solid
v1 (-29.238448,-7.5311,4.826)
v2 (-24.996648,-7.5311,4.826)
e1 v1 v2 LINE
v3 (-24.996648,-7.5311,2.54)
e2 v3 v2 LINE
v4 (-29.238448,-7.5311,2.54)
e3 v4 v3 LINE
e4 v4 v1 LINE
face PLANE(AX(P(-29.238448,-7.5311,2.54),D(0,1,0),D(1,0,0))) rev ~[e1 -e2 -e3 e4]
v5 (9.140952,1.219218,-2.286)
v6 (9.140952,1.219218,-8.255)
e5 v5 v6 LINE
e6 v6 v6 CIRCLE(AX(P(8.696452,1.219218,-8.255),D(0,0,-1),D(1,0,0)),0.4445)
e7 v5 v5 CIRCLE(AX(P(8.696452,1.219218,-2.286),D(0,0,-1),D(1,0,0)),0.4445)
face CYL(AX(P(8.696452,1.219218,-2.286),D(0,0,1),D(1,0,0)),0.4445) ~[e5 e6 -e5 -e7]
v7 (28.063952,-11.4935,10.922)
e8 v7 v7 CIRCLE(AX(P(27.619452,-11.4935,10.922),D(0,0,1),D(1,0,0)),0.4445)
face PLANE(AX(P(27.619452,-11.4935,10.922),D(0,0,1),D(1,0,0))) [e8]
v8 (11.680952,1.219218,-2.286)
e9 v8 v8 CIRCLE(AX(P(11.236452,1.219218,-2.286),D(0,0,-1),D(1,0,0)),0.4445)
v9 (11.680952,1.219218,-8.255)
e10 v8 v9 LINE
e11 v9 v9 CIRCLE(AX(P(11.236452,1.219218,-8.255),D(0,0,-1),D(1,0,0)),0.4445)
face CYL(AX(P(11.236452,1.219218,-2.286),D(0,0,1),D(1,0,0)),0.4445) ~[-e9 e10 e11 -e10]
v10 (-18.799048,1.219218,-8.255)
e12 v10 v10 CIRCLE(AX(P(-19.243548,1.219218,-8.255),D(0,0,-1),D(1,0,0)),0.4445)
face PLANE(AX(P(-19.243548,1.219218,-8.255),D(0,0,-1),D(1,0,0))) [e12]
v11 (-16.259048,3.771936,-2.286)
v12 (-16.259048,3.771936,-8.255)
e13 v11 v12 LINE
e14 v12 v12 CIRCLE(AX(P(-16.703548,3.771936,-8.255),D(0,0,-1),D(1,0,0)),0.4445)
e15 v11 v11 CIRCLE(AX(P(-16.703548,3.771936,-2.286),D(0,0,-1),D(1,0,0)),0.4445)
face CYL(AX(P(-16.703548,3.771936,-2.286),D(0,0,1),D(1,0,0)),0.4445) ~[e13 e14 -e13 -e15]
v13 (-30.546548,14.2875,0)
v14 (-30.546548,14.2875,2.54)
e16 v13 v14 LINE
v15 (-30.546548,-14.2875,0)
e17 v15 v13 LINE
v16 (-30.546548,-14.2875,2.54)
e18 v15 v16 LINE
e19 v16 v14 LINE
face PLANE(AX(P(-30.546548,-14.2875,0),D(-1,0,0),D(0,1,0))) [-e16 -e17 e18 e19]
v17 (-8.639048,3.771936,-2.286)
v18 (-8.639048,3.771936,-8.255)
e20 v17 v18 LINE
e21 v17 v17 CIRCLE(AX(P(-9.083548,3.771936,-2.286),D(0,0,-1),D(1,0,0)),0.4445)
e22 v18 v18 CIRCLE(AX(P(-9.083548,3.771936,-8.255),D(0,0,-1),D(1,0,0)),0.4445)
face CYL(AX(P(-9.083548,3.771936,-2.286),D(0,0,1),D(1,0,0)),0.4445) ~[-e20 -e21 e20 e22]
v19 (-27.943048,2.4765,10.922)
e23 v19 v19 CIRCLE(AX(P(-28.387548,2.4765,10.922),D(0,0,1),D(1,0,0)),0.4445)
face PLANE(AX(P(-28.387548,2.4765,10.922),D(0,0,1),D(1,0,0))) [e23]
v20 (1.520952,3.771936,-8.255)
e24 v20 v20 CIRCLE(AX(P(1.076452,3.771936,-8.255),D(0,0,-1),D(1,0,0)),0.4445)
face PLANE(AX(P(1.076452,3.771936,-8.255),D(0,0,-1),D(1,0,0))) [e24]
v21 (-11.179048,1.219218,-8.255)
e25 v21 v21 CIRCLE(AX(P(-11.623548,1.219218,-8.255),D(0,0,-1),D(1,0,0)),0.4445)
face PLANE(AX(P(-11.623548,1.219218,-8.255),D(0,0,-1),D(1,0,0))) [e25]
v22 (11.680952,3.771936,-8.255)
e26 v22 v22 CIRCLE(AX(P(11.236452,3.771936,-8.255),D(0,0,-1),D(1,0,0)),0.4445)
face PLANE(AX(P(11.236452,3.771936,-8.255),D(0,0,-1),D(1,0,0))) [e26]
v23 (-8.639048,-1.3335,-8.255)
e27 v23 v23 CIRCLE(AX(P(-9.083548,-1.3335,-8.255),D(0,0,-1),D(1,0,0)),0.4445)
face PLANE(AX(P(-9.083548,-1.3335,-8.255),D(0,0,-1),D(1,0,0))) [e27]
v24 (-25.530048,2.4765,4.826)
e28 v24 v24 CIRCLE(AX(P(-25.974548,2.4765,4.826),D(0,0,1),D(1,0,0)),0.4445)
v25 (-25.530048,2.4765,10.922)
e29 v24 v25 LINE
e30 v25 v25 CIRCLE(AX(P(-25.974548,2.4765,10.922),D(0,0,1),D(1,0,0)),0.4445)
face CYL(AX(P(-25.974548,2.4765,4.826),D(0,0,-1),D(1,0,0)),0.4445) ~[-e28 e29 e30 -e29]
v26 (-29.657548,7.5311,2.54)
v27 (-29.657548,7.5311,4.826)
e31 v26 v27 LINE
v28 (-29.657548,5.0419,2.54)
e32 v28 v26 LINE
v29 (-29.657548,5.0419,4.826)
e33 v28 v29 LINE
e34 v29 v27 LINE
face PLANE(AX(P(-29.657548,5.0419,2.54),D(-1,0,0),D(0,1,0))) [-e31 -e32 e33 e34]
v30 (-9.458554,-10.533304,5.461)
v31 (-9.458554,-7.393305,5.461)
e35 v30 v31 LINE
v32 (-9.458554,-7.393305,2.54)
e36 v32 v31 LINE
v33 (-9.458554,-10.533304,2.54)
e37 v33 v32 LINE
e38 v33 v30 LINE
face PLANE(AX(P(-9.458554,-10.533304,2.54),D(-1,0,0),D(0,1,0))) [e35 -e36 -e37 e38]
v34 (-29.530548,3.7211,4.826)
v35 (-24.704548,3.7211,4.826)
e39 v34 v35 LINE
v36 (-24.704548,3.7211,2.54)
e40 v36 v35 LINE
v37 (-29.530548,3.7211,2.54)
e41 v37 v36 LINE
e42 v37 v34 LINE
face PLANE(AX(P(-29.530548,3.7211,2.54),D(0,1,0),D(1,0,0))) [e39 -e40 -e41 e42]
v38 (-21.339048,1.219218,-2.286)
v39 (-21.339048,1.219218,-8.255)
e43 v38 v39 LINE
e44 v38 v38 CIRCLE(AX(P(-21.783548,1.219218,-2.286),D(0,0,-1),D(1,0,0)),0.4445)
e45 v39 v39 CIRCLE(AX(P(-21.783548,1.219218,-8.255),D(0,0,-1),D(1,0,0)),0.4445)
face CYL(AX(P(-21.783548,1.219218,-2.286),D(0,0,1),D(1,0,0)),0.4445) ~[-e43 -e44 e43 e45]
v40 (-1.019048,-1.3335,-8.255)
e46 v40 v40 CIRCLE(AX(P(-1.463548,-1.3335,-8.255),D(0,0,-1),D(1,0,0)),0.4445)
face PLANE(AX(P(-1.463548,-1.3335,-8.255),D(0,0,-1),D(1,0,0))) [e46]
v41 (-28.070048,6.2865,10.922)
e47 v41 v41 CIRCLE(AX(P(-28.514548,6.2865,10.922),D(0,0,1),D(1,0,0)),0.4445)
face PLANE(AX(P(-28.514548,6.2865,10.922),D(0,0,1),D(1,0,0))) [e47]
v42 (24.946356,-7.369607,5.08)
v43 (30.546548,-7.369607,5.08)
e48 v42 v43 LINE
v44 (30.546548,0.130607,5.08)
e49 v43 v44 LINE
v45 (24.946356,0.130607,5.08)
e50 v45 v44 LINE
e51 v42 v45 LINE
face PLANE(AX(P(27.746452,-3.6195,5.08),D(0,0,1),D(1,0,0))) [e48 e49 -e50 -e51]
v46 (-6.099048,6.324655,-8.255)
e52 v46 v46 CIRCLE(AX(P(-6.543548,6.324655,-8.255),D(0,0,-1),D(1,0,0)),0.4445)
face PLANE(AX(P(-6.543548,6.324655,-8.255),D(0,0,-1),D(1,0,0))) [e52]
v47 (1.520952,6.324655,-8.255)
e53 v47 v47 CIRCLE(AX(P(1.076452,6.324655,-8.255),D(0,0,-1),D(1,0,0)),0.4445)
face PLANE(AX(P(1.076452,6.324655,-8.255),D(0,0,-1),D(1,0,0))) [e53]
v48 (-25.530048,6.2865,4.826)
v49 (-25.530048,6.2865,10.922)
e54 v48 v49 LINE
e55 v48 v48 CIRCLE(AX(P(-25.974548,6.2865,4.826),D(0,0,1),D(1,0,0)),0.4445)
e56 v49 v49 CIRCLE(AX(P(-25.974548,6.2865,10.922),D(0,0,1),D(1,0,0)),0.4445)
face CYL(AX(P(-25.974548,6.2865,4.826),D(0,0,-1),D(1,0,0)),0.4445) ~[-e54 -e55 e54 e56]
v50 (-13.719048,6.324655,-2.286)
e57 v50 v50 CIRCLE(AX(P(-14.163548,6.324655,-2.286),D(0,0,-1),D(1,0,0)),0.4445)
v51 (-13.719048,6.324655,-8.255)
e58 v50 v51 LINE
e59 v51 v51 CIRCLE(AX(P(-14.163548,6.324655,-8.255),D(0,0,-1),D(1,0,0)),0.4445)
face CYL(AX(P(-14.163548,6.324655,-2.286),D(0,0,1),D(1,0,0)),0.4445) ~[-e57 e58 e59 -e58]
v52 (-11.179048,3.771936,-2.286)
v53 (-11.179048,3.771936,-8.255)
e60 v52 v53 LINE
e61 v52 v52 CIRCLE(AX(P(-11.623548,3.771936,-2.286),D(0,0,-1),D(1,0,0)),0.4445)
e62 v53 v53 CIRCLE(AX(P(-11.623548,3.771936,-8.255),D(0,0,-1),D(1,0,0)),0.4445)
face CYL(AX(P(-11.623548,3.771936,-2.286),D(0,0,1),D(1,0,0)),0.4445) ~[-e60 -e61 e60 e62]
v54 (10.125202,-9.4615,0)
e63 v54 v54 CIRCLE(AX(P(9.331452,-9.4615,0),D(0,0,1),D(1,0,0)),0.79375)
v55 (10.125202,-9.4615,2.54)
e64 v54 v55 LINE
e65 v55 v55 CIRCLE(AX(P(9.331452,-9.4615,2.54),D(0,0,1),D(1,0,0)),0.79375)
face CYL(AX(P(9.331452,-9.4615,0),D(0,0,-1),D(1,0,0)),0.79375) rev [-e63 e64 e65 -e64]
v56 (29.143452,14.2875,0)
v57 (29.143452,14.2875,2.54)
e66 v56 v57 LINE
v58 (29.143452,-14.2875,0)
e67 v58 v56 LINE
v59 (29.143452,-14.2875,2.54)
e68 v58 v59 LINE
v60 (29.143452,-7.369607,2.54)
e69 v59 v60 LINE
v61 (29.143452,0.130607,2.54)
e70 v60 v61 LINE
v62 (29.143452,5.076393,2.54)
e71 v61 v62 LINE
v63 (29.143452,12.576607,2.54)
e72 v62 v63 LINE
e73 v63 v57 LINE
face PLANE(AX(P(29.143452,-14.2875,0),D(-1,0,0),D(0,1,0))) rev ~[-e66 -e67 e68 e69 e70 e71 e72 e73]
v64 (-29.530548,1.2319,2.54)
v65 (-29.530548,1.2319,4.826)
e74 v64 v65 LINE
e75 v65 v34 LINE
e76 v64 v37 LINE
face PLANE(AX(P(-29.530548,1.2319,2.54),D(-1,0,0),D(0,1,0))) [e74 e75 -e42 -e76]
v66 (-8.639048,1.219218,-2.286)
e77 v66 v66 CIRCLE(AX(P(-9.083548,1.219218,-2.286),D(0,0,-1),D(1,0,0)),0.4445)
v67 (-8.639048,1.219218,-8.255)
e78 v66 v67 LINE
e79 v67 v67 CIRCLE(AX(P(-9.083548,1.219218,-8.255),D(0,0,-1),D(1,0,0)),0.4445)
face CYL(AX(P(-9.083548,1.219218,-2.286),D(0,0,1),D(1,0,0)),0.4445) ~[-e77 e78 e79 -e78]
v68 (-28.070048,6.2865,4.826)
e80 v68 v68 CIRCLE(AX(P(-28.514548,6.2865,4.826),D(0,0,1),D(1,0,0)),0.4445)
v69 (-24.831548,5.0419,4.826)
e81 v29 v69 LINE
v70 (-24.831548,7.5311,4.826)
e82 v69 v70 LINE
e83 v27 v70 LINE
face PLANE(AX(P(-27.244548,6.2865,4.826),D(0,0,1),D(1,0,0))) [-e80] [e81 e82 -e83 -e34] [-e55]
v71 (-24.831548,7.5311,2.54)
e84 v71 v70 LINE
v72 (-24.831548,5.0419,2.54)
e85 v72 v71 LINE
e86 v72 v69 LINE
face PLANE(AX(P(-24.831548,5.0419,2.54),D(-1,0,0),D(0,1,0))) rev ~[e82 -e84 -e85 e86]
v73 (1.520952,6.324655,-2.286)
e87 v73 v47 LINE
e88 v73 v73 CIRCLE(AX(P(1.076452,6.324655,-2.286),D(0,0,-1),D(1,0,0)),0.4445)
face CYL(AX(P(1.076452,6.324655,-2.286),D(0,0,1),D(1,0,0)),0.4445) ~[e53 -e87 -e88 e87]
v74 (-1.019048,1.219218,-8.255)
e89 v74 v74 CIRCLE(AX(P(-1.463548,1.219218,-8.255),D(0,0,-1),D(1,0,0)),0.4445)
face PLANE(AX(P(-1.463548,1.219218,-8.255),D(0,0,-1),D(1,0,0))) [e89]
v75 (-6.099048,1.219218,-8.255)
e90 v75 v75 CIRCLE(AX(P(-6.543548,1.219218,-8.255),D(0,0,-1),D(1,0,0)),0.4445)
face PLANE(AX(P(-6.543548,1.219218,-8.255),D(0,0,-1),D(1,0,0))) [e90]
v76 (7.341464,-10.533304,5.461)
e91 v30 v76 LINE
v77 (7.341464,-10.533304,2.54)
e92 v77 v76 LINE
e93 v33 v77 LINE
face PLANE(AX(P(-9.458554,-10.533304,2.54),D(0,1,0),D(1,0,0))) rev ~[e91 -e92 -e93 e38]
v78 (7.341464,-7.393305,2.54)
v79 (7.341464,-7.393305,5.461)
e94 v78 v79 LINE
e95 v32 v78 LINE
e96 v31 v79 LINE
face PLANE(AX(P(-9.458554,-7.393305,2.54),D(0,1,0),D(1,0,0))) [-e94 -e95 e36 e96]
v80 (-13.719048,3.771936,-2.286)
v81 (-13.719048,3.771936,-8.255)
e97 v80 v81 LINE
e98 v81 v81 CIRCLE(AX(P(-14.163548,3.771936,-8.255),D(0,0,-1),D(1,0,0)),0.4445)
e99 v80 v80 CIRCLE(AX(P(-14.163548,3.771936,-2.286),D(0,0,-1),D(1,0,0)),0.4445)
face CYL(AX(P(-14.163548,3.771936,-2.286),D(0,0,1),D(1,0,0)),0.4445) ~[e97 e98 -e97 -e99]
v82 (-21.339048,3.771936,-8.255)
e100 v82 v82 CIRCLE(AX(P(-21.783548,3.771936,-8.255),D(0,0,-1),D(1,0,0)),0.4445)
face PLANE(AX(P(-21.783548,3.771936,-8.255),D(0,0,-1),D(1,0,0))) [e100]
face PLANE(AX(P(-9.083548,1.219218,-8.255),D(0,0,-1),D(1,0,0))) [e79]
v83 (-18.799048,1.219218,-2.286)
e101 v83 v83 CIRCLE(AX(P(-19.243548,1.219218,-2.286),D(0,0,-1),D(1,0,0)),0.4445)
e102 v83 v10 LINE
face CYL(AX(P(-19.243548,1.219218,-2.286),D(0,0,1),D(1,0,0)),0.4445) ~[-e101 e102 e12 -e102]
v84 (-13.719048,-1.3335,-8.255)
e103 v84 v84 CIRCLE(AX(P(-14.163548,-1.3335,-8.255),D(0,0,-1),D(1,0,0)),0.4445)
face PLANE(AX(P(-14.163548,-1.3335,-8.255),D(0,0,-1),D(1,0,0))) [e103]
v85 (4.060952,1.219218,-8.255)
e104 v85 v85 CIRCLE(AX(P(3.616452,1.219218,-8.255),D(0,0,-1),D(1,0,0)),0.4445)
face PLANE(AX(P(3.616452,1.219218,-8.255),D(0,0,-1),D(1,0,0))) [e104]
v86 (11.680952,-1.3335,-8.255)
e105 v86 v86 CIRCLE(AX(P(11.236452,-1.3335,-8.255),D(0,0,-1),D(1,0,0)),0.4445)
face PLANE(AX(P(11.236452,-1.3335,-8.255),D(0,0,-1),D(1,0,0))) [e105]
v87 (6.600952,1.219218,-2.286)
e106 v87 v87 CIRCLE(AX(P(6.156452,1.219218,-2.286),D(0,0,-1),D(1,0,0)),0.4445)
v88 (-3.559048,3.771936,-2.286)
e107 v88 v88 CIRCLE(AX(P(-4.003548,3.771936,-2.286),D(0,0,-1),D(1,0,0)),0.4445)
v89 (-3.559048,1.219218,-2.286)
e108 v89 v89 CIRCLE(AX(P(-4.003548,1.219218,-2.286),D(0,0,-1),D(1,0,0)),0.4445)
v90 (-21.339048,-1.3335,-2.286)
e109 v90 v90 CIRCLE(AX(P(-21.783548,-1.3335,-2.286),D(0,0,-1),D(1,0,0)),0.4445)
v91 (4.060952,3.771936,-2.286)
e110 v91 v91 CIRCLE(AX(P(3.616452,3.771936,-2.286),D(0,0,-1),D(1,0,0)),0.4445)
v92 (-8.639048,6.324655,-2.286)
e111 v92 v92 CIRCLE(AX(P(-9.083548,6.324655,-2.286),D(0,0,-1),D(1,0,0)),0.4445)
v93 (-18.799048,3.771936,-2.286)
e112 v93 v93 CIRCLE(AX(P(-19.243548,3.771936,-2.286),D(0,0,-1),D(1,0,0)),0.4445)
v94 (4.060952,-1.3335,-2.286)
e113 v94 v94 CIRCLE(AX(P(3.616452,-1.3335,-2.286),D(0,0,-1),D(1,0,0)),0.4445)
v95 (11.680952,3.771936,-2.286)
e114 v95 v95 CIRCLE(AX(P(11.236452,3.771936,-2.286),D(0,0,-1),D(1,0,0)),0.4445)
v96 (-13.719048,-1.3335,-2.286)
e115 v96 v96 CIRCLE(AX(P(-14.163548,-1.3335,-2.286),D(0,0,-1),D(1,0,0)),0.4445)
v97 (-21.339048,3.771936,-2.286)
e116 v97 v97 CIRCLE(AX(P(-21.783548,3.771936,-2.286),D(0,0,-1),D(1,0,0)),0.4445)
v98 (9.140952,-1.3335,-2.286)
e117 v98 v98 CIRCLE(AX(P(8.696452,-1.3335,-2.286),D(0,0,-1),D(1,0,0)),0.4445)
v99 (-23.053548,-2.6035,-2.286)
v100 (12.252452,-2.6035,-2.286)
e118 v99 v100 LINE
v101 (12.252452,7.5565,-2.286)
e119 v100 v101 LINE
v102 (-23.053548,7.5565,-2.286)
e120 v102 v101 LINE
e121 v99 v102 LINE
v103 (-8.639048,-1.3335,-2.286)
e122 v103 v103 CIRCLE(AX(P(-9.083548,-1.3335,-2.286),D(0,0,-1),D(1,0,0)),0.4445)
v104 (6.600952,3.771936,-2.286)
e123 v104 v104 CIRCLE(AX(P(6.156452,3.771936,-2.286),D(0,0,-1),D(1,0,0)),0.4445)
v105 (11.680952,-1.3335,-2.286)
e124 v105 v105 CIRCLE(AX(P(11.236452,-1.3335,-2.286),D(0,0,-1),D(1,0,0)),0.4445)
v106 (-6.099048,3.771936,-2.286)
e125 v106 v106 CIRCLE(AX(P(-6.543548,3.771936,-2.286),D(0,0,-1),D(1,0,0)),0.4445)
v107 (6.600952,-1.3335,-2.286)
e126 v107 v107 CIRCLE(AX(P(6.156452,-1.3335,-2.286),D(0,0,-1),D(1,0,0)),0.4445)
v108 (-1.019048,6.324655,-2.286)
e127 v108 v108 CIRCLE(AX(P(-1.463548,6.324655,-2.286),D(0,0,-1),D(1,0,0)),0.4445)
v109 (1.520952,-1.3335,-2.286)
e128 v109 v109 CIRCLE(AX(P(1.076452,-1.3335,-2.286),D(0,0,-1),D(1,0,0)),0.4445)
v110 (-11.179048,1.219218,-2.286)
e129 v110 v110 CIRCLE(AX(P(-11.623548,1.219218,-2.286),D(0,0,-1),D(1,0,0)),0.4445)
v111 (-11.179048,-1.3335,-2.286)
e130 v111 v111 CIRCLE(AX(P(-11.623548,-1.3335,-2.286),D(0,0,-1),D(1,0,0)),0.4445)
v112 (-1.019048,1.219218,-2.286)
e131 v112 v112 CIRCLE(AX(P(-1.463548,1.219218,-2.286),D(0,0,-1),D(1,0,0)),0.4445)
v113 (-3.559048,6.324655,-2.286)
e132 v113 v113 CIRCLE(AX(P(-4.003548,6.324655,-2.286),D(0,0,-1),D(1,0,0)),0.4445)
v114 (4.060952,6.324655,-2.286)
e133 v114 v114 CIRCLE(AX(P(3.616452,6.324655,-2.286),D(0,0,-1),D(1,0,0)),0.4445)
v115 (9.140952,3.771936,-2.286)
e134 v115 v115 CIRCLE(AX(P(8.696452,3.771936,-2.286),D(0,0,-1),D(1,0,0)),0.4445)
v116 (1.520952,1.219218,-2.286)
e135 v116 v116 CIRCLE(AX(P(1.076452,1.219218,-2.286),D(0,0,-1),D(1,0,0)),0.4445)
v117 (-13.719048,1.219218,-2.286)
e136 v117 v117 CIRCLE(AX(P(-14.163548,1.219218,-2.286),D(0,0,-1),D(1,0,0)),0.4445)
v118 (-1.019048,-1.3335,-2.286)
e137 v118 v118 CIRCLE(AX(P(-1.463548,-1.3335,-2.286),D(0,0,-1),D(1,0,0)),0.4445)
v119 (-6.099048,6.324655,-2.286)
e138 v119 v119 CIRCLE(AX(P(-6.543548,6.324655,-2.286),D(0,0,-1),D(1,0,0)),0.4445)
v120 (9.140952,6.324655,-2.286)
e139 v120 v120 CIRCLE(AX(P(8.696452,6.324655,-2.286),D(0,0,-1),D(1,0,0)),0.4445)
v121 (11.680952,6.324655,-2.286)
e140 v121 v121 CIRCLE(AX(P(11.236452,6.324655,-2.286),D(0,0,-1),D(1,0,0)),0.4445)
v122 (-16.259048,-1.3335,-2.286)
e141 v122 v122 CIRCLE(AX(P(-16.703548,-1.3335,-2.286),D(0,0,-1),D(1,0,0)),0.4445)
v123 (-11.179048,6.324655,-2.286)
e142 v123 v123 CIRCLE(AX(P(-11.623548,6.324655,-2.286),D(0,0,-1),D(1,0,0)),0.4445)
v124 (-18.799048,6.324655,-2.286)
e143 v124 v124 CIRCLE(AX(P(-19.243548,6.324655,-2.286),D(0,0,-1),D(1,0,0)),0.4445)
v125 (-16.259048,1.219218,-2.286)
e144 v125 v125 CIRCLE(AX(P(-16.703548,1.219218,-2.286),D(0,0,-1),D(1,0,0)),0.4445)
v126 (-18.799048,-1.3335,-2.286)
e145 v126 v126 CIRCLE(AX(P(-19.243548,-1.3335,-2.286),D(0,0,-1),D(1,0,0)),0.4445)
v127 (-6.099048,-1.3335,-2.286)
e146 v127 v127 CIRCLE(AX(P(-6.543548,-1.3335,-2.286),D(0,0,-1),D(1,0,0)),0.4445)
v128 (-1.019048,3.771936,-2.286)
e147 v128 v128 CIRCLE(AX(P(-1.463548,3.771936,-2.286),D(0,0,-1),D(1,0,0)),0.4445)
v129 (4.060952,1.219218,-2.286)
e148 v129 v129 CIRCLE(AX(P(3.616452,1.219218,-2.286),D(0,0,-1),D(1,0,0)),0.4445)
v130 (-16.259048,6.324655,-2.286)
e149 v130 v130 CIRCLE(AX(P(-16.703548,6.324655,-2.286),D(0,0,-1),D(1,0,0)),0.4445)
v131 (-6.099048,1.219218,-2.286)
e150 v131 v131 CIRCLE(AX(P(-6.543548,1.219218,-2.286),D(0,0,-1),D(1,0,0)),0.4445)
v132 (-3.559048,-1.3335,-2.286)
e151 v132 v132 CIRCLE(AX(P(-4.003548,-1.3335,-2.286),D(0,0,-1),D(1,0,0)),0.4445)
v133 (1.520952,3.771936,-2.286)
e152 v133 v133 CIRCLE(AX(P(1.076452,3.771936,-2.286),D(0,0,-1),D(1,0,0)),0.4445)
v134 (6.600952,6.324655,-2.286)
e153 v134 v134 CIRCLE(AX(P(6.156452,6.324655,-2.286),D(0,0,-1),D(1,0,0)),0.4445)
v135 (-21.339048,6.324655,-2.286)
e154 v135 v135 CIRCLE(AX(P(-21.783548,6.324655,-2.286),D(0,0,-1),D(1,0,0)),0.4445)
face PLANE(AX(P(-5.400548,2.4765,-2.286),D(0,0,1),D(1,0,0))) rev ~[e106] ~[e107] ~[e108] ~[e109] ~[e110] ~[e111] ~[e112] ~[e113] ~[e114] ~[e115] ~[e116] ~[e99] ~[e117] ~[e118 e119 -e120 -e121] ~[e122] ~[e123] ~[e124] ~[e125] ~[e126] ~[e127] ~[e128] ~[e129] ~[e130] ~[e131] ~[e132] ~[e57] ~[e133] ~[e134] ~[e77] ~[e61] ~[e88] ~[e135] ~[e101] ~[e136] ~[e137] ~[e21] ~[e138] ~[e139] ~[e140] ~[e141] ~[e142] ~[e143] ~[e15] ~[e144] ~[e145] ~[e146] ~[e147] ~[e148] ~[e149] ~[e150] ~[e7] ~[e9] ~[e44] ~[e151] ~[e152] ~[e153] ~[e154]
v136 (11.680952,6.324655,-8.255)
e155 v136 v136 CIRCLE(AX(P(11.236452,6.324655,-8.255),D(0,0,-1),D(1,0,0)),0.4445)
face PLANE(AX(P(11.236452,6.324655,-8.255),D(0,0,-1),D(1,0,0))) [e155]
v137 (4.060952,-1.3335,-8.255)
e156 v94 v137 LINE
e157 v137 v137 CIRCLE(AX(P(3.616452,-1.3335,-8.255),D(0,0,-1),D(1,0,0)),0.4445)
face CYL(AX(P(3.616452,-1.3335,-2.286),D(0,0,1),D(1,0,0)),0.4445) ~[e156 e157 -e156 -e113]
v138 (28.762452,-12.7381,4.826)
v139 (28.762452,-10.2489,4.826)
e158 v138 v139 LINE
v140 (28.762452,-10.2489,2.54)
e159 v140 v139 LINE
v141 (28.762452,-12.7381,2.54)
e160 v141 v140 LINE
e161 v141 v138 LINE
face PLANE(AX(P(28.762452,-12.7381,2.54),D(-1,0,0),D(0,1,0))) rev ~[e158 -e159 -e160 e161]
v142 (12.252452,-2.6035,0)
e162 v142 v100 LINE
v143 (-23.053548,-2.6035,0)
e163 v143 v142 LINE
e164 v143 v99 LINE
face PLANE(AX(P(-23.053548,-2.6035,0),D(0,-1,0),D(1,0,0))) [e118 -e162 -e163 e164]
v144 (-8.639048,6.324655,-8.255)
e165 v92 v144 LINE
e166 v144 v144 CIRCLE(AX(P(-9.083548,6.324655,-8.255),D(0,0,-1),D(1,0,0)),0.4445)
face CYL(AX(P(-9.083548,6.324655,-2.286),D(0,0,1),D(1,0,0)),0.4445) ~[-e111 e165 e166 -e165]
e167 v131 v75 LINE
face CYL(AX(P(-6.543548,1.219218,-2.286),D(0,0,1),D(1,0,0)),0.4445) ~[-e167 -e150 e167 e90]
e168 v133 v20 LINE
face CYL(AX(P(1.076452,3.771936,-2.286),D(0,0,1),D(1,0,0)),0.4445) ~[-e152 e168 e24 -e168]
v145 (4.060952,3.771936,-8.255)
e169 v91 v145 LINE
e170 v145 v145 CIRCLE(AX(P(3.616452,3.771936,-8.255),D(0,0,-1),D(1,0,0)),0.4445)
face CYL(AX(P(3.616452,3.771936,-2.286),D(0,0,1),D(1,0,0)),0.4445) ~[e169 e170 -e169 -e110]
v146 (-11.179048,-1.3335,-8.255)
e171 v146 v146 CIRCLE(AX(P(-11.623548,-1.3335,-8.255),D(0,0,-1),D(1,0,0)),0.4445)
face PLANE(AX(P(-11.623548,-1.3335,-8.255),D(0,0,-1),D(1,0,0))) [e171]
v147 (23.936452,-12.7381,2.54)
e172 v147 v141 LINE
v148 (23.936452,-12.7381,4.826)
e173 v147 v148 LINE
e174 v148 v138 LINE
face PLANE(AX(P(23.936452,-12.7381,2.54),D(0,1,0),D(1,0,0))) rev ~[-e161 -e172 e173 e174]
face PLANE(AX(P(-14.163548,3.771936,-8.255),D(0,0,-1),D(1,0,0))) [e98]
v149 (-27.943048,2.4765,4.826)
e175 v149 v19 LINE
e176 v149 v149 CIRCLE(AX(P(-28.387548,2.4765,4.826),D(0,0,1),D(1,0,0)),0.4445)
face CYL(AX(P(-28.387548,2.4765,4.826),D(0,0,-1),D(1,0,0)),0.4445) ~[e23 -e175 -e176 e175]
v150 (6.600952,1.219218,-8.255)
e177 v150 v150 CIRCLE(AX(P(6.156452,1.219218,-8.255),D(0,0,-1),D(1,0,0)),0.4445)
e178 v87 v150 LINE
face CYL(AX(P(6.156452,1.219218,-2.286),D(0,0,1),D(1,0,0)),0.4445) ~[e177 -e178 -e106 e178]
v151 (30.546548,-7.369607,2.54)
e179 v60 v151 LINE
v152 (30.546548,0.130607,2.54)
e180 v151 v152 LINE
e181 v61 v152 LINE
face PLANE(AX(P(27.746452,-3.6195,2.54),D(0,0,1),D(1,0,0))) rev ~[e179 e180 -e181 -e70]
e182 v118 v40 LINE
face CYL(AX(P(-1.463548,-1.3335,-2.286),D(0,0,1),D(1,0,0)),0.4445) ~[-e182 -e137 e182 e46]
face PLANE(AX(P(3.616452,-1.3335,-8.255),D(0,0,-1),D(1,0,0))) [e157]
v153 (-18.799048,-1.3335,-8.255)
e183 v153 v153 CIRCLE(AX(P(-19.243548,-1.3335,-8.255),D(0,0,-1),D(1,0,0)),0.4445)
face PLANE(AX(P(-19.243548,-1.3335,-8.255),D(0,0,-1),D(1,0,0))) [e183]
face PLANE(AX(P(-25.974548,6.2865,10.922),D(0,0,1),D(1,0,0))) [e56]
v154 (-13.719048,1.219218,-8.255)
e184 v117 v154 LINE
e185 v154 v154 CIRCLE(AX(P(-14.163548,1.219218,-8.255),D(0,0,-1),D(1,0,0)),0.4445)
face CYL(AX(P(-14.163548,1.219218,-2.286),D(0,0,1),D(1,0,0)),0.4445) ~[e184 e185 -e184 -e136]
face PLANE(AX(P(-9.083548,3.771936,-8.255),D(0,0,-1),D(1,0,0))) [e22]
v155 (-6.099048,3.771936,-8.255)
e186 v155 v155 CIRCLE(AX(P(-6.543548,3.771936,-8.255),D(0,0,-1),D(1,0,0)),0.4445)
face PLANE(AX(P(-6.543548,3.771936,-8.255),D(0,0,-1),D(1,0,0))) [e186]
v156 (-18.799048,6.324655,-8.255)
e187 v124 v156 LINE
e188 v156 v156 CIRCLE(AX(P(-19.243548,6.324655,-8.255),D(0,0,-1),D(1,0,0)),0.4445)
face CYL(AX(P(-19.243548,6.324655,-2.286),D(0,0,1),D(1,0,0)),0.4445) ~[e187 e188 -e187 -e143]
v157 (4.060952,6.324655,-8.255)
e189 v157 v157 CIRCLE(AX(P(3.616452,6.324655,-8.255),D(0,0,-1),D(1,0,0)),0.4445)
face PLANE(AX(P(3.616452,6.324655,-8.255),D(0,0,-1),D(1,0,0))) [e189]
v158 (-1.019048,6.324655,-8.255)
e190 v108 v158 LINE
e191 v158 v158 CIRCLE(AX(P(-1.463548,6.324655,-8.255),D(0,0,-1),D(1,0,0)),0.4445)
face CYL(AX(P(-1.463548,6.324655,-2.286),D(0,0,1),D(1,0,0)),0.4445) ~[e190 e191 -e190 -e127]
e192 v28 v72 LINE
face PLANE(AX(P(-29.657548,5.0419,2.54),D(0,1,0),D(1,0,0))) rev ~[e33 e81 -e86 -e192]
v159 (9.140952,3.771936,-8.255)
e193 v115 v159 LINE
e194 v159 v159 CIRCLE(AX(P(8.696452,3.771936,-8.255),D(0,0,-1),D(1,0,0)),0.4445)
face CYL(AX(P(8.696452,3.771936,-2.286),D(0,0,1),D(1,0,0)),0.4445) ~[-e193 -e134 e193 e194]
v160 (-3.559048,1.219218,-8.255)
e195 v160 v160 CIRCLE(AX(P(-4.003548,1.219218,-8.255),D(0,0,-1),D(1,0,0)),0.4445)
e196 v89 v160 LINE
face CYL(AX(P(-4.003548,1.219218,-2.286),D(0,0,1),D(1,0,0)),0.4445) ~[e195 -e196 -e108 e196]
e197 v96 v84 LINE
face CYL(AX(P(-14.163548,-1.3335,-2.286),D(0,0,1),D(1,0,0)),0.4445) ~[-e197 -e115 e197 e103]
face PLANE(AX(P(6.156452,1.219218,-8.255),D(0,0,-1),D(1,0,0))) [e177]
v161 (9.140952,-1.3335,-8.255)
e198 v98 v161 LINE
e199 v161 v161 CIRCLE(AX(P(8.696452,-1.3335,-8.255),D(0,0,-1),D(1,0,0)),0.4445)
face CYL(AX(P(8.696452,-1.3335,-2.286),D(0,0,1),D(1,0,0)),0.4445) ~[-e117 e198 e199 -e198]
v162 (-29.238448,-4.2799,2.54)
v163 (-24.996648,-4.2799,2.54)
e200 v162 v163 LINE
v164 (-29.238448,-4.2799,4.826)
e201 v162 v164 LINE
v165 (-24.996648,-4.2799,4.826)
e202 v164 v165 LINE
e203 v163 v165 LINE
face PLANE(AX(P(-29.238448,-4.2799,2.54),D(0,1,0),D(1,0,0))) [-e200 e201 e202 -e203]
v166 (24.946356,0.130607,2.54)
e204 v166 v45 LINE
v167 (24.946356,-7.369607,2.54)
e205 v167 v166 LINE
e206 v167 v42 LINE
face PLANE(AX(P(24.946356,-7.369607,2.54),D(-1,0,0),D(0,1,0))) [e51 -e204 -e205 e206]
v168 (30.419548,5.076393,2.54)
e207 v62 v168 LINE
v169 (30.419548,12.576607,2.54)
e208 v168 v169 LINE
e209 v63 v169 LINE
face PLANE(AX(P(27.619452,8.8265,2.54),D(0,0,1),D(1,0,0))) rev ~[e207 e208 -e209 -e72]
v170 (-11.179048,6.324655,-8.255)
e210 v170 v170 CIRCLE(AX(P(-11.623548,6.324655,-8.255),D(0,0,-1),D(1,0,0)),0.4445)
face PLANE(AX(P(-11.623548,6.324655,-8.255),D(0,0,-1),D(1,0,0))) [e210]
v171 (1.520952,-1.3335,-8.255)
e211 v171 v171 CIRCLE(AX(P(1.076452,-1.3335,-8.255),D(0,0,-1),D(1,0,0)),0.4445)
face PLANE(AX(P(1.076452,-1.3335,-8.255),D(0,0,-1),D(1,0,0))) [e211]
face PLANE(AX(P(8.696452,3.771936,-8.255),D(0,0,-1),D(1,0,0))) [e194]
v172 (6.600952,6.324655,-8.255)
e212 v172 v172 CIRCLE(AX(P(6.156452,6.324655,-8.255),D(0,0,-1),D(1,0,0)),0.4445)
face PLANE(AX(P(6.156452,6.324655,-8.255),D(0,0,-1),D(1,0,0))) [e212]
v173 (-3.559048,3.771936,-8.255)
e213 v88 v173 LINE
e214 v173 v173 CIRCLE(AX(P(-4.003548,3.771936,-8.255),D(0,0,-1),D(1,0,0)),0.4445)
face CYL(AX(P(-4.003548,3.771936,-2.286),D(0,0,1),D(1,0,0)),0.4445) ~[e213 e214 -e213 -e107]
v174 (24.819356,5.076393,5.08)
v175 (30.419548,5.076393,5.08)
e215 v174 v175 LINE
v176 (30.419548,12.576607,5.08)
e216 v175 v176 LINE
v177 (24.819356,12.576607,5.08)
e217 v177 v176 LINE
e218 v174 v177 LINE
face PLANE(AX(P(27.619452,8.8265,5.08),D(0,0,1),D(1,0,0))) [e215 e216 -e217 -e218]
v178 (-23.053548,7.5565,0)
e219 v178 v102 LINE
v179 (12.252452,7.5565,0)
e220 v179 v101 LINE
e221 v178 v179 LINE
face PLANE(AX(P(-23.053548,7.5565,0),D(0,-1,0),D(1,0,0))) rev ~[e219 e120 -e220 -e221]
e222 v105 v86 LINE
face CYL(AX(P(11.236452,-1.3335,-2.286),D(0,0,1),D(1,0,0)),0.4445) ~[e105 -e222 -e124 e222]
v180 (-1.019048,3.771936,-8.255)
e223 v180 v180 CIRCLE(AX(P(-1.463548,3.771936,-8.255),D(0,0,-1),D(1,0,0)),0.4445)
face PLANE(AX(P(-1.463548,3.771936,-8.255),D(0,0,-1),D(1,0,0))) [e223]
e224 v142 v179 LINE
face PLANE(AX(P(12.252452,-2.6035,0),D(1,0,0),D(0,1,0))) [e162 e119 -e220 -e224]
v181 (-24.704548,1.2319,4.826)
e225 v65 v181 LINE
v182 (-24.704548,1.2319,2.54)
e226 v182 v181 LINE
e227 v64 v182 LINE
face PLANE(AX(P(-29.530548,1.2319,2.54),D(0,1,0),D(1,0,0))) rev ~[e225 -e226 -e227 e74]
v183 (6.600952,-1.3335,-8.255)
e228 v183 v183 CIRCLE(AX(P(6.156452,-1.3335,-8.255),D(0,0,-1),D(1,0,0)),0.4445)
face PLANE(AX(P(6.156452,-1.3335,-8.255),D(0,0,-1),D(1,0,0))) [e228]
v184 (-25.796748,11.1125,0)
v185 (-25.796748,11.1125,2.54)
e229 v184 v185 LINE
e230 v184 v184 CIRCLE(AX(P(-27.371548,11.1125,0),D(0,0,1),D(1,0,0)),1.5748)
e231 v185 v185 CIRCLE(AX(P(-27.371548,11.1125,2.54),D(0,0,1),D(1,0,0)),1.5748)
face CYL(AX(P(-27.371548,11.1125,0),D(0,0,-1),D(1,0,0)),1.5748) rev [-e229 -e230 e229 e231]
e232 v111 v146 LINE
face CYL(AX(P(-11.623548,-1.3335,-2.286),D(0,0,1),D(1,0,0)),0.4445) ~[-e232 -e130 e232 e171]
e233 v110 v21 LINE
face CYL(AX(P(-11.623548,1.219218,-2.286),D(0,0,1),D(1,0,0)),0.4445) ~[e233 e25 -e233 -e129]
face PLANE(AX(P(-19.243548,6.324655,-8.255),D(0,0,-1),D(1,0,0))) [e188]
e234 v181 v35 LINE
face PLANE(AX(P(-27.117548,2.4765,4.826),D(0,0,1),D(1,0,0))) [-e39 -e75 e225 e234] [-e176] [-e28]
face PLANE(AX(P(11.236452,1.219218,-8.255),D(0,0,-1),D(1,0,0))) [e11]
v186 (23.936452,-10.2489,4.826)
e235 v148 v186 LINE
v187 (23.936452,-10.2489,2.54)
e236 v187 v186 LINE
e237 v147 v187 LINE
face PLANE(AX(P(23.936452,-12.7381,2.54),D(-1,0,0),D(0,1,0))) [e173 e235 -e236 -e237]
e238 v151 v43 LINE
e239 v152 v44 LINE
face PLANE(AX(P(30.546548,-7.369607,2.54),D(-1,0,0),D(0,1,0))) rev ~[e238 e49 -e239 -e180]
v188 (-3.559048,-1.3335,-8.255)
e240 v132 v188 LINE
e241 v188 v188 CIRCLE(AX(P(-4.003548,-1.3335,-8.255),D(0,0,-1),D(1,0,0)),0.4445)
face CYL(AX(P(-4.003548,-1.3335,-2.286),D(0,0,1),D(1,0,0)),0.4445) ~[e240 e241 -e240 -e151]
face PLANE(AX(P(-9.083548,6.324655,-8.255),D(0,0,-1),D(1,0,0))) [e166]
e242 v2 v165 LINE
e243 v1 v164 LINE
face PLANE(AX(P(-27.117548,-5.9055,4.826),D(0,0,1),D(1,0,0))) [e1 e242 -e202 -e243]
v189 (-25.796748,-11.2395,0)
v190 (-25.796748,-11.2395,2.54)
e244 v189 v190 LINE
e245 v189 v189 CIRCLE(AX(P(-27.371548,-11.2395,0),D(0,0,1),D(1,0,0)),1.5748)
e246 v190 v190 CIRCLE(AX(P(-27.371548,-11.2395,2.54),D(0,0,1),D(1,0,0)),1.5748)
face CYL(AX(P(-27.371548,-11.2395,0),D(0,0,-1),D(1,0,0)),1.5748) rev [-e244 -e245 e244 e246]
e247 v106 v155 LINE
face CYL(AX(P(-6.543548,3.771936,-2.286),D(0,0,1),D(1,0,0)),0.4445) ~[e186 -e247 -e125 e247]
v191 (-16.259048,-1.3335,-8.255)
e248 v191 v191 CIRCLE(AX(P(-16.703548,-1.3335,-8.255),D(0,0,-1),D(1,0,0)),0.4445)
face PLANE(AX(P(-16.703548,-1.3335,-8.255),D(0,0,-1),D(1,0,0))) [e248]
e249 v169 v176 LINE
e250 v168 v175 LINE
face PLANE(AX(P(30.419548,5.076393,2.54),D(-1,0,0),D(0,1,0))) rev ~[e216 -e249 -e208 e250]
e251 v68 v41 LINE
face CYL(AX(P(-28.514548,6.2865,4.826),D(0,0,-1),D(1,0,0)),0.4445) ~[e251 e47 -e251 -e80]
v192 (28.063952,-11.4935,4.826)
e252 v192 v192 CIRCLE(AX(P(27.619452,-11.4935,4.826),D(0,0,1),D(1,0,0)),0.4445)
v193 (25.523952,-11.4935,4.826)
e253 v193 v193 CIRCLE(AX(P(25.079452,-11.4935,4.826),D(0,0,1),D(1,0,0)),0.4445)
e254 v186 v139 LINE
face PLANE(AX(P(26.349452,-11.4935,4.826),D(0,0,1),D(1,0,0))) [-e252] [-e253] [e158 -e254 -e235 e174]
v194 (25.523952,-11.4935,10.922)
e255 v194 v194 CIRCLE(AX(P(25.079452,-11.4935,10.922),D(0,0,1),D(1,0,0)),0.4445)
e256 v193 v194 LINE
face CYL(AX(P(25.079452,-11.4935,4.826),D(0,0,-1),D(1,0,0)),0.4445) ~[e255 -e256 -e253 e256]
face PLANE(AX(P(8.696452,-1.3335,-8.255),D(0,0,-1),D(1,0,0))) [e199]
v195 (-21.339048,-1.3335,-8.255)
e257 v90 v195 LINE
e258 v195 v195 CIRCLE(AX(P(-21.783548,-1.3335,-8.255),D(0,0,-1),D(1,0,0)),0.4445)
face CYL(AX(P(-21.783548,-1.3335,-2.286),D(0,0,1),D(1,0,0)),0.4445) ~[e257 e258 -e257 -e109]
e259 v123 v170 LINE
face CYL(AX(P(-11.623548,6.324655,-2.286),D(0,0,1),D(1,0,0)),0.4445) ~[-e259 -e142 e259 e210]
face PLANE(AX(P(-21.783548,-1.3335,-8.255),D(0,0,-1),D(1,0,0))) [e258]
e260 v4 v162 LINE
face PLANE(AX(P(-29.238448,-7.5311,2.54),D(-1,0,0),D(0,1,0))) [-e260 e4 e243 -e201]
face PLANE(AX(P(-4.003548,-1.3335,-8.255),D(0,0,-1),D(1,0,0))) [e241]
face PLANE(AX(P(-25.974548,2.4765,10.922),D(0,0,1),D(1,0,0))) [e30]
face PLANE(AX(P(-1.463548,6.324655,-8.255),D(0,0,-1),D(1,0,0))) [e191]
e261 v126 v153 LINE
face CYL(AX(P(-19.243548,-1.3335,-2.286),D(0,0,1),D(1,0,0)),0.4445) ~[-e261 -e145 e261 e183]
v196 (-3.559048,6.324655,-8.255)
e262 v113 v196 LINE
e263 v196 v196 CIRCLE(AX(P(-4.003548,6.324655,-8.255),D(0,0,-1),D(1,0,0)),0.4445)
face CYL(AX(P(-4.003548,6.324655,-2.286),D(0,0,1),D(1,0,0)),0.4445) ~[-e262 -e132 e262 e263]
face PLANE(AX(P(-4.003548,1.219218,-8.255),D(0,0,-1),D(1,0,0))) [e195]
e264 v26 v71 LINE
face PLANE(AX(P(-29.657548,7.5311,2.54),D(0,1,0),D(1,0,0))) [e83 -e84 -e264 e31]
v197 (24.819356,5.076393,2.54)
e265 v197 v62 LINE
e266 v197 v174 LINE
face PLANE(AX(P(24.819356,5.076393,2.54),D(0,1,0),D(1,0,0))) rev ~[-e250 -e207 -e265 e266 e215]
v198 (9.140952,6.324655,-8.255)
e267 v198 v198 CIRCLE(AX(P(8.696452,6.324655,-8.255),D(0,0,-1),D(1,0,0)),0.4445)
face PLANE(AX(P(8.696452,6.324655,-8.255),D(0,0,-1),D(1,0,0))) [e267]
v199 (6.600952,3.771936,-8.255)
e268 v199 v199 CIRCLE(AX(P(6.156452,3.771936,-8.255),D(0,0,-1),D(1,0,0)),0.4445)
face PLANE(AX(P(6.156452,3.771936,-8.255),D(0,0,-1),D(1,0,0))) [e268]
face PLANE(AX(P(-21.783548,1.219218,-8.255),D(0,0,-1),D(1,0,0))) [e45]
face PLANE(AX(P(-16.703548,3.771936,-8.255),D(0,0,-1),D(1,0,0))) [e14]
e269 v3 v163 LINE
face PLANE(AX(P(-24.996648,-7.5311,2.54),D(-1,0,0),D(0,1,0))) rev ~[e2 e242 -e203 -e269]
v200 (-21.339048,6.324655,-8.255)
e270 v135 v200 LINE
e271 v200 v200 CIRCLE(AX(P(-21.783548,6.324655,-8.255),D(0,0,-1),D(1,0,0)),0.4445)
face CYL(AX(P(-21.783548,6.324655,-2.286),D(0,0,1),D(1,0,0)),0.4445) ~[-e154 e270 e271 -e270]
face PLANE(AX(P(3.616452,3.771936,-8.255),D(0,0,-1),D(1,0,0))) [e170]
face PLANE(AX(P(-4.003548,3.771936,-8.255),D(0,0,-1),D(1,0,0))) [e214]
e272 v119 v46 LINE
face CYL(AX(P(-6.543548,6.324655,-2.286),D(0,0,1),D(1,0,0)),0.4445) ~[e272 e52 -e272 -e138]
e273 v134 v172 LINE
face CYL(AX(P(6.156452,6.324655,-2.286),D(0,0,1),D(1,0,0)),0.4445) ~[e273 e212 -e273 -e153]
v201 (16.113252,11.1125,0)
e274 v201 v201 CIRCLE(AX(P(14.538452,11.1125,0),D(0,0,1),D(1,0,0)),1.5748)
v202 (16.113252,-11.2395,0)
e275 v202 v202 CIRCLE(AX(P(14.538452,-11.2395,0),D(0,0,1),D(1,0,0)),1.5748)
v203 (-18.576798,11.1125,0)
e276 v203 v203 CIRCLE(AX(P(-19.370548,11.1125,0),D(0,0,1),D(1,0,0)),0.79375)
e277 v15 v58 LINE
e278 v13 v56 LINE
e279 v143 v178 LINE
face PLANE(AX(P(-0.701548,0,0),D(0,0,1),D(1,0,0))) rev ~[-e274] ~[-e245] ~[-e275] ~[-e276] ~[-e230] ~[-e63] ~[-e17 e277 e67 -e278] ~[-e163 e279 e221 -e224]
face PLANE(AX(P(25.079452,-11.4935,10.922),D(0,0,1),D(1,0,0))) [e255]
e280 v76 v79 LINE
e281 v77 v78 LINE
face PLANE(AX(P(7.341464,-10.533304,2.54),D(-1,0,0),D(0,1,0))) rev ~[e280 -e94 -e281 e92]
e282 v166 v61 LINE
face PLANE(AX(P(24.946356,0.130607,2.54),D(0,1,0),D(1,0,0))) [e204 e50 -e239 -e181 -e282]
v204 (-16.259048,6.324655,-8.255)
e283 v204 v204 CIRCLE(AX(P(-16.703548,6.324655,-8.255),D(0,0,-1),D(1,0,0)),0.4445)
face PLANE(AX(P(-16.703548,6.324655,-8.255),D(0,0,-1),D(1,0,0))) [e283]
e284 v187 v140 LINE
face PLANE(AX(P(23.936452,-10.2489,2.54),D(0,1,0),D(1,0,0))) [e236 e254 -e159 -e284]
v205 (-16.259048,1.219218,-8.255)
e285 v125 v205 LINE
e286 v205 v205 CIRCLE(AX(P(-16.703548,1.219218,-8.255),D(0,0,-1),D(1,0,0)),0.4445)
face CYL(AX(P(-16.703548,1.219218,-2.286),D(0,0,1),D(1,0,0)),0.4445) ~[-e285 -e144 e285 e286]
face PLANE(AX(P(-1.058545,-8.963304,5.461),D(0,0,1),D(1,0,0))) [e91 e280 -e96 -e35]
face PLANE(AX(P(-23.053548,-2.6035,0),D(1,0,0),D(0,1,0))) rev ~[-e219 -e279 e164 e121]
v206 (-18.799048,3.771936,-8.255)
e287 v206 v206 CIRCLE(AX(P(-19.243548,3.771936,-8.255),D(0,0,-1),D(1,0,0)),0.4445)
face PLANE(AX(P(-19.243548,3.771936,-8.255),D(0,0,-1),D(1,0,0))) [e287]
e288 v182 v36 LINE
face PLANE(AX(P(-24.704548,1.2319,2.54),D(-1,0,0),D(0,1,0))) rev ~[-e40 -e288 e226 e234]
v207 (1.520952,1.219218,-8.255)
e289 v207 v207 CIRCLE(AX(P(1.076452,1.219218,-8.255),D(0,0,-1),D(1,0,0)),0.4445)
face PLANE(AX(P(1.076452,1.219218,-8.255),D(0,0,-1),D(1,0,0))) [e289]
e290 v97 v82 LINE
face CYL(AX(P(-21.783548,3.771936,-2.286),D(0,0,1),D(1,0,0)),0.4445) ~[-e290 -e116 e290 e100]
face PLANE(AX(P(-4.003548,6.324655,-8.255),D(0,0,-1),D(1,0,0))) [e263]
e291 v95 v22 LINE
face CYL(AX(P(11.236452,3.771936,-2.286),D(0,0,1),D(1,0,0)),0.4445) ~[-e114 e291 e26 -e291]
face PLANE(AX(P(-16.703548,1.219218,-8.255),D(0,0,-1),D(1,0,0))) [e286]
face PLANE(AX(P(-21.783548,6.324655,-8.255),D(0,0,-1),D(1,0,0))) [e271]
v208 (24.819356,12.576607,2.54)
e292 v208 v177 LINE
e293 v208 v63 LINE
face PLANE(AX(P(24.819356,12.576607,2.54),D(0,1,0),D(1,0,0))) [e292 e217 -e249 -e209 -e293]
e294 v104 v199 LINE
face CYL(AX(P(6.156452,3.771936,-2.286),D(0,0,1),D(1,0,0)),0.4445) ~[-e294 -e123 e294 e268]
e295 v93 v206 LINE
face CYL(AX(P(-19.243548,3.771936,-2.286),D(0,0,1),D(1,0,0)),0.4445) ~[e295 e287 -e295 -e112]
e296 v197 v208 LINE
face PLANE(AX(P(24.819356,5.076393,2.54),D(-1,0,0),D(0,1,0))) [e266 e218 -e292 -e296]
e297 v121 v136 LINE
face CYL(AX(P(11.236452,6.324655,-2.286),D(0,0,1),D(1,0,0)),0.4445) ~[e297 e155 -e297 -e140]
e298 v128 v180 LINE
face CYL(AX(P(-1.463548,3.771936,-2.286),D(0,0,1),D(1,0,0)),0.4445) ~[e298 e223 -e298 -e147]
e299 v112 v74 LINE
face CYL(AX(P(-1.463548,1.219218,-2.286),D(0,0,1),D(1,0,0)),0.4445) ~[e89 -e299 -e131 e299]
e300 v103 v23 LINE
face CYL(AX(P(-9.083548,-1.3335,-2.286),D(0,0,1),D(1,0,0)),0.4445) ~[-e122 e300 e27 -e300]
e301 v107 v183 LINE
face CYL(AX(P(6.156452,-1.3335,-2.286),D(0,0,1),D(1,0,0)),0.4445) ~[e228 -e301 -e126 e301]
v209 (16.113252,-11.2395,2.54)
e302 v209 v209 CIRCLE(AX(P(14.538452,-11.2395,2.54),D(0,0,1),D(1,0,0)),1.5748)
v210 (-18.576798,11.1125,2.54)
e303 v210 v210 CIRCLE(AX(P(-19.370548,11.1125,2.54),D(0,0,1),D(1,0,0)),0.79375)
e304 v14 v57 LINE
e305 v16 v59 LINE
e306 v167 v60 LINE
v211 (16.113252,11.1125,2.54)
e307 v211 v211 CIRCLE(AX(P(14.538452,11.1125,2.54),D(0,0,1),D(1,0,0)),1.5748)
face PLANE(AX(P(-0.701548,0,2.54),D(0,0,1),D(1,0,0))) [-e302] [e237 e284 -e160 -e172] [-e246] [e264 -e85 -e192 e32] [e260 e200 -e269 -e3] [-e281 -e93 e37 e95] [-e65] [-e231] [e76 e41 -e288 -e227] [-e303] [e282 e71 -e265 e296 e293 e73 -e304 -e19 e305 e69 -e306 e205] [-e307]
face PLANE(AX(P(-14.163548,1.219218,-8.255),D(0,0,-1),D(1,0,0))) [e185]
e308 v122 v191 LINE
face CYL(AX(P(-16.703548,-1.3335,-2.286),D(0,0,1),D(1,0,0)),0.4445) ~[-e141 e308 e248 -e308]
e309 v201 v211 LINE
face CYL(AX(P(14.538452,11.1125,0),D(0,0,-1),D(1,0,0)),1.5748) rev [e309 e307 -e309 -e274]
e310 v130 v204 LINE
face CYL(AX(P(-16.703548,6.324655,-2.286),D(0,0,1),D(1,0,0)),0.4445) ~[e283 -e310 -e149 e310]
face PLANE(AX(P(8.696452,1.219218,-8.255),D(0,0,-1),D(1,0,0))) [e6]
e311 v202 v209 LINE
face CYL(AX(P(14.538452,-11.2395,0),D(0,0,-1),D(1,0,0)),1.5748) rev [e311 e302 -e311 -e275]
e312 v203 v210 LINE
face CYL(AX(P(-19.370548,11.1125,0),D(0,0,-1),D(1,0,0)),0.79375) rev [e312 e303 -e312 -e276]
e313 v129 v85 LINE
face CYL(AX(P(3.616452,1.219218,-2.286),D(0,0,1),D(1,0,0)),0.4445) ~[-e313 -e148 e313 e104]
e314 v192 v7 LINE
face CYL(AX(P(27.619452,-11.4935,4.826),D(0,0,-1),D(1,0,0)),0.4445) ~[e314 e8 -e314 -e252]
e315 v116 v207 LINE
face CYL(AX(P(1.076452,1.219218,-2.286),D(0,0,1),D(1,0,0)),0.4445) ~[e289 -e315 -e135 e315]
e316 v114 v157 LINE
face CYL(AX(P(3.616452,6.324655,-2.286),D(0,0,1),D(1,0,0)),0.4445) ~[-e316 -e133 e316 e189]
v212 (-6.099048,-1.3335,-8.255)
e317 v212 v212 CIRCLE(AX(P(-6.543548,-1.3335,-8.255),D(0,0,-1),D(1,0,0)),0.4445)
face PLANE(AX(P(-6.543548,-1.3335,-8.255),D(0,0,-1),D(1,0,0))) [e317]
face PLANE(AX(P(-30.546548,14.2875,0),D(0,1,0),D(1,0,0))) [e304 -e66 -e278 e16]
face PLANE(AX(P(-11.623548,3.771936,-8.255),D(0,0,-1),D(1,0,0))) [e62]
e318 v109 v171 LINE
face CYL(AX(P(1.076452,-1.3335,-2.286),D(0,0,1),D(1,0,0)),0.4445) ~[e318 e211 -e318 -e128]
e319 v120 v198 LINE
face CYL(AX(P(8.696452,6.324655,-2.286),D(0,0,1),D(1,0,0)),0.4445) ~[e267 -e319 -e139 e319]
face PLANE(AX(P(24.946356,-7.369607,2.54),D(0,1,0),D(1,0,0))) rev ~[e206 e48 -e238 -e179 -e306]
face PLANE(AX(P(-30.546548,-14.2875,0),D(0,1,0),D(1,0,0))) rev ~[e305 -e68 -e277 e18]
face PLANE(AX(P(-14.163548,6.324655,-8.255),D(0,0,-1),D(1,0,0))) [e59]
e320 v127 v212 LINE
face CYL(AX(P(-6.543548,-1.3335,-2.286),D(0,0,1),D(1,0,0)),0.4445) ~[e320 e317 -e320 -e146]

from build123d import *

# Parameters (mm, degrees)
F1_W      = 59.69
F1_H      = 28.575
F1_R      = 1.5748
F1_R_2    = 0.79375
F2_DEPTH  = 2.54
F3_W      = 5.600192
F3_H      = 7.500214
F4_DEPTH  = 2.54
F5_W      = 16.800018
F5_H      = 3.139999
F6_DEPTH  = 2.921
F7_W      = 4.826
F7_H      = 2.4892
F7_W_2    = 4.2418
F7_H_2    = 3.2512
F8_DEPTH  = 2.286
F9_R      = 0.4445
F10_DEPTH = 6.096
F11_W     = 35.306
F11_H     = 10.16
F12_DEPTH = 2.286
F13_R     = 0.4445
F14_DEPTH = 5.969


with BuildPart() as f2:
    # F1 (on Top) → F2 (new body)
    with BuildSketch(Plane.XY):
        with Locations((-0.701548, 0)):
            Rectangle(F1_W, F1_H)
        with Locations((-27.371548, -11.2395)):
            Circle(F1_R, mode=Mode.SUBTRACT)
        with Locations((9.331452, -9.4615)):
            Circle(F1_R_2, mode=Mode.SUBTRACT)
        with Locations((14.538452, -11.2395)):
            Circle(F1_R, mode=Mode.SUBTRACT)
        with Locations((-27.371548, 11.1125)):
            Circle(F1_R, mode=Mode.SUBTRACT)
        with Locations((-19.370548, 11.1125)):
            Circle(F1_R_2, mode=Mode.SUBTRACT)
        with Locations((14.538452, 11.1125)):
            Circle(F1_R, mode=Mode.SUBTRACT)
    extrude(amount=F2_DEPTH)

    # F3 (on face) → F4 (join)
    with BuildSketch(Plane.XY.offset(2.54)):
        with Locations((27.619452, 8.8265)):
            Rectangle(F3_W, F3_H)
        with Locations((27.746452, -3.6195)):
            Rectangle(F3_W, F3_H)
    extrude(amount=F4_DEPTH)

    # F5 (on face) → F6 (join)
    with BuildSketch(Plane.XY.offset(2.54)):
        with Locations((-1.058545, -8.963304)):
            Rectangle(F5_W, F5_H)
    extrude(amount=F6_DEPTH)

    # F7 (on face) → F8 (join)
    with BuildSketch(Plane.XY.offset(2.54)):
        with Locations((26.349452, -11.4935)):
            Rectangle(F7_W, F7_H)
        with Locations((-27.244548, 6.2865)):
            Rectangle(F7_W, F7_H)
        with Locations((-27.117548, 2.4765)):
            Rectangle(F7_W, F7_H)
        with Locations((-27.117548, -5.9055)):
            Rectangle(F7_W_2, F7_H_2)
    extrude(amount=F8_DEPTH)

    # F9 (on face) → F10 (join)
    with BuildSketch(Plane.XY.offset(4.826)):
        with Locations((-28.514548, 6.2865)):
            Circle(F9_R)
        with Locations((-25.974548, 6.2865)):
            Circle(F9_R)
        with Locations((-28.387548, 2.4765)):
            Circle(F9_R)
        with Locations((-25.974548, 2.4765)):
            Circle(F9_R)
        with Locations((27.619452, -11.4935)):
            Circle(F9_R)
        with Locations((25.079452, -11.4935)):
            Circle(F9_R)
    extrude(amount=F10_DEPTH)

    # F11 (on face) → F12 (join)
    with BuildSketch(Plane.XY):
        with Locations((-5.400548, 2.4765)):
            Rectangle(F11_W, F11_H)
    extrude(amount=-F12_DEPTH)

    # F13 (on face) → F14 (join)
    with BuildSketch(Plane(origin=(0, 0, -2.286), x_dir=(1, 0, 0), z_dir=(0, 0, -1))):
        with Locations((-21.783548, 1.3335)):
            Circle(F13_R)
        with Locations((-19.243548, 1.3335)):
            Circle(F13_R)
        with Locations((-16.703548, 1.3335)):
            Circle(F13_R)
        with Locations((-14.163548, 1.3335)):
            Circle(F13_R)
        with Locations((-11.623548, 1.3335)):
            Circle(F13_R)
        with Locations((-9.083548, 1.3335)):
            Circle(F13_R)
        with Locations((-6.543548, 1.3335)):
            Circle(F13_R)
        with Locations((-4.003548, 1.3335)):
            Circle(F13_R)
        with Locations((-1.463548, 1.3335)):
            Circle(F13_R)
        with Locations((1.076452, 1.3335)):
            Circle(F13_R)
        with Locations((3.616452, 1.3335)):
            Circle(F13_R)
        with Locations((6.156452, 1.3335)):
            Circle(F13_R)
        with Locations((8.696452, 1.3335)):
            Circle(F13_R)
        with Locations((11.236452, 1.3335)):
            Circle(F13_R)
        with Locations((-21.783548, -1.219218)):
            Circle(F13_R)
        with Locations((-19.243548, -1.219218)):
            Circle(F13_R)
        with Locations((-16.703548, -1.219218)):
            Circle(F13_R)
        with Locations((-14.163548, -1.219218)):
            Circle(F13_R)
        with Locations((-11.623548, -1.219218)):
            Circle(F13_R)
        with Locations((-9.083548, -1.219218)):
            Circle(F13_R)
        with Locations((-6.543548, -1.219218)):
            Circle(F13_R)
        with Locations((-4.003548, -1.219218)):
            Circle(F13_R)
        with Locations((-1.463548, -1.219218)):
            Circle(F13_R)
        with Locations((1.076452, -1.219218)):
            Circle(F13_R)
        with Locations((3.616452, -1.219218)):
            Circle(F13_R)
        with Locations((6.156452, -1.219218)):
            Circle(F13_R)
        with Locations((8.696452, -1.219218)):
            Circle(F13_R)
        with Locations((11.236452, -1.219218)):
            Circle(F13_R)
        with Locations((-21.783548, -3.771936)):
            Circle(F13_R)
        with Locations((-19.243548, -3.771936)):
            Circle(F13_R)
        with Locations((-16.703548, -3.771936)):
            Circle(F13_R)
        with Locations((-14.163548, -3.771936)):
            Circle(F13_R)
        with Locations((-11.623548, -3.771936)):
            Circle(F13_R)
        with Locations((-9.083548, -3.771936)):
            Circle(F13_R)
        with Locations((-6.543548, -3.771936)):
            Circle(F13_R)
        with Locations((-4.003548, -3.771936)):
            Circle(F13_R)
        with Locations((-1.463548, -3.771936)):
            Circle(F13_R)
        with Locations((1.076452, -3.771936)):
            Circle(F13_R)
        with Locations((3.616452, -3.771936)):
            Circle(F13_R)
        with Locations((6.156452, -3.771936)):
            Circle(F13_R)
        with Locations((8.696452, -3.771936)):
            Circle(F13_R)
        with Locations((11.236452, -3.771936)):
            Circle(F13_R)
        with Locations((-21.783548, -6.324655)):
            Circle(F13_R)
        with Locations((-19.243548, -6.324655)):
            Circle(F13_R)
        with Locations((-16.703548, -6.324655)):
            Circle(F13_R)
        with Locations((-14.163548, -6.324655)):
            Circle(F13_R)
        with Locations((-11.623548, -6.324655)):
            Circle(F13_R)
        with Locations((-9.083548, -6.324655)):
            Circle(F13_R)
        with Locations((-6.543548, -6.324655)):
            Circle(F13_R)
        with Locations((-4.003548, -6.324655)):
            Circle(F13_R)
        with Locations((-1.463548, -6.324655)):
            Circle(F13_R)
        with Locations((1.076452, -6.324655)):
            Circle(F13_R)
        with Locations((3.616452, -6.324655)):
            Circle(F13_R)
        with Locations((6.156452, -6.324655)):
            Circle(F13_R)
        with Locations((8.696452, -6.324655)):
            Circle(F13_R)
        with Locations((11.236452, -6.324655)):
            Circle(F13_R)
    extrude(amount=F14_DEPTH)


solid = f2.part
